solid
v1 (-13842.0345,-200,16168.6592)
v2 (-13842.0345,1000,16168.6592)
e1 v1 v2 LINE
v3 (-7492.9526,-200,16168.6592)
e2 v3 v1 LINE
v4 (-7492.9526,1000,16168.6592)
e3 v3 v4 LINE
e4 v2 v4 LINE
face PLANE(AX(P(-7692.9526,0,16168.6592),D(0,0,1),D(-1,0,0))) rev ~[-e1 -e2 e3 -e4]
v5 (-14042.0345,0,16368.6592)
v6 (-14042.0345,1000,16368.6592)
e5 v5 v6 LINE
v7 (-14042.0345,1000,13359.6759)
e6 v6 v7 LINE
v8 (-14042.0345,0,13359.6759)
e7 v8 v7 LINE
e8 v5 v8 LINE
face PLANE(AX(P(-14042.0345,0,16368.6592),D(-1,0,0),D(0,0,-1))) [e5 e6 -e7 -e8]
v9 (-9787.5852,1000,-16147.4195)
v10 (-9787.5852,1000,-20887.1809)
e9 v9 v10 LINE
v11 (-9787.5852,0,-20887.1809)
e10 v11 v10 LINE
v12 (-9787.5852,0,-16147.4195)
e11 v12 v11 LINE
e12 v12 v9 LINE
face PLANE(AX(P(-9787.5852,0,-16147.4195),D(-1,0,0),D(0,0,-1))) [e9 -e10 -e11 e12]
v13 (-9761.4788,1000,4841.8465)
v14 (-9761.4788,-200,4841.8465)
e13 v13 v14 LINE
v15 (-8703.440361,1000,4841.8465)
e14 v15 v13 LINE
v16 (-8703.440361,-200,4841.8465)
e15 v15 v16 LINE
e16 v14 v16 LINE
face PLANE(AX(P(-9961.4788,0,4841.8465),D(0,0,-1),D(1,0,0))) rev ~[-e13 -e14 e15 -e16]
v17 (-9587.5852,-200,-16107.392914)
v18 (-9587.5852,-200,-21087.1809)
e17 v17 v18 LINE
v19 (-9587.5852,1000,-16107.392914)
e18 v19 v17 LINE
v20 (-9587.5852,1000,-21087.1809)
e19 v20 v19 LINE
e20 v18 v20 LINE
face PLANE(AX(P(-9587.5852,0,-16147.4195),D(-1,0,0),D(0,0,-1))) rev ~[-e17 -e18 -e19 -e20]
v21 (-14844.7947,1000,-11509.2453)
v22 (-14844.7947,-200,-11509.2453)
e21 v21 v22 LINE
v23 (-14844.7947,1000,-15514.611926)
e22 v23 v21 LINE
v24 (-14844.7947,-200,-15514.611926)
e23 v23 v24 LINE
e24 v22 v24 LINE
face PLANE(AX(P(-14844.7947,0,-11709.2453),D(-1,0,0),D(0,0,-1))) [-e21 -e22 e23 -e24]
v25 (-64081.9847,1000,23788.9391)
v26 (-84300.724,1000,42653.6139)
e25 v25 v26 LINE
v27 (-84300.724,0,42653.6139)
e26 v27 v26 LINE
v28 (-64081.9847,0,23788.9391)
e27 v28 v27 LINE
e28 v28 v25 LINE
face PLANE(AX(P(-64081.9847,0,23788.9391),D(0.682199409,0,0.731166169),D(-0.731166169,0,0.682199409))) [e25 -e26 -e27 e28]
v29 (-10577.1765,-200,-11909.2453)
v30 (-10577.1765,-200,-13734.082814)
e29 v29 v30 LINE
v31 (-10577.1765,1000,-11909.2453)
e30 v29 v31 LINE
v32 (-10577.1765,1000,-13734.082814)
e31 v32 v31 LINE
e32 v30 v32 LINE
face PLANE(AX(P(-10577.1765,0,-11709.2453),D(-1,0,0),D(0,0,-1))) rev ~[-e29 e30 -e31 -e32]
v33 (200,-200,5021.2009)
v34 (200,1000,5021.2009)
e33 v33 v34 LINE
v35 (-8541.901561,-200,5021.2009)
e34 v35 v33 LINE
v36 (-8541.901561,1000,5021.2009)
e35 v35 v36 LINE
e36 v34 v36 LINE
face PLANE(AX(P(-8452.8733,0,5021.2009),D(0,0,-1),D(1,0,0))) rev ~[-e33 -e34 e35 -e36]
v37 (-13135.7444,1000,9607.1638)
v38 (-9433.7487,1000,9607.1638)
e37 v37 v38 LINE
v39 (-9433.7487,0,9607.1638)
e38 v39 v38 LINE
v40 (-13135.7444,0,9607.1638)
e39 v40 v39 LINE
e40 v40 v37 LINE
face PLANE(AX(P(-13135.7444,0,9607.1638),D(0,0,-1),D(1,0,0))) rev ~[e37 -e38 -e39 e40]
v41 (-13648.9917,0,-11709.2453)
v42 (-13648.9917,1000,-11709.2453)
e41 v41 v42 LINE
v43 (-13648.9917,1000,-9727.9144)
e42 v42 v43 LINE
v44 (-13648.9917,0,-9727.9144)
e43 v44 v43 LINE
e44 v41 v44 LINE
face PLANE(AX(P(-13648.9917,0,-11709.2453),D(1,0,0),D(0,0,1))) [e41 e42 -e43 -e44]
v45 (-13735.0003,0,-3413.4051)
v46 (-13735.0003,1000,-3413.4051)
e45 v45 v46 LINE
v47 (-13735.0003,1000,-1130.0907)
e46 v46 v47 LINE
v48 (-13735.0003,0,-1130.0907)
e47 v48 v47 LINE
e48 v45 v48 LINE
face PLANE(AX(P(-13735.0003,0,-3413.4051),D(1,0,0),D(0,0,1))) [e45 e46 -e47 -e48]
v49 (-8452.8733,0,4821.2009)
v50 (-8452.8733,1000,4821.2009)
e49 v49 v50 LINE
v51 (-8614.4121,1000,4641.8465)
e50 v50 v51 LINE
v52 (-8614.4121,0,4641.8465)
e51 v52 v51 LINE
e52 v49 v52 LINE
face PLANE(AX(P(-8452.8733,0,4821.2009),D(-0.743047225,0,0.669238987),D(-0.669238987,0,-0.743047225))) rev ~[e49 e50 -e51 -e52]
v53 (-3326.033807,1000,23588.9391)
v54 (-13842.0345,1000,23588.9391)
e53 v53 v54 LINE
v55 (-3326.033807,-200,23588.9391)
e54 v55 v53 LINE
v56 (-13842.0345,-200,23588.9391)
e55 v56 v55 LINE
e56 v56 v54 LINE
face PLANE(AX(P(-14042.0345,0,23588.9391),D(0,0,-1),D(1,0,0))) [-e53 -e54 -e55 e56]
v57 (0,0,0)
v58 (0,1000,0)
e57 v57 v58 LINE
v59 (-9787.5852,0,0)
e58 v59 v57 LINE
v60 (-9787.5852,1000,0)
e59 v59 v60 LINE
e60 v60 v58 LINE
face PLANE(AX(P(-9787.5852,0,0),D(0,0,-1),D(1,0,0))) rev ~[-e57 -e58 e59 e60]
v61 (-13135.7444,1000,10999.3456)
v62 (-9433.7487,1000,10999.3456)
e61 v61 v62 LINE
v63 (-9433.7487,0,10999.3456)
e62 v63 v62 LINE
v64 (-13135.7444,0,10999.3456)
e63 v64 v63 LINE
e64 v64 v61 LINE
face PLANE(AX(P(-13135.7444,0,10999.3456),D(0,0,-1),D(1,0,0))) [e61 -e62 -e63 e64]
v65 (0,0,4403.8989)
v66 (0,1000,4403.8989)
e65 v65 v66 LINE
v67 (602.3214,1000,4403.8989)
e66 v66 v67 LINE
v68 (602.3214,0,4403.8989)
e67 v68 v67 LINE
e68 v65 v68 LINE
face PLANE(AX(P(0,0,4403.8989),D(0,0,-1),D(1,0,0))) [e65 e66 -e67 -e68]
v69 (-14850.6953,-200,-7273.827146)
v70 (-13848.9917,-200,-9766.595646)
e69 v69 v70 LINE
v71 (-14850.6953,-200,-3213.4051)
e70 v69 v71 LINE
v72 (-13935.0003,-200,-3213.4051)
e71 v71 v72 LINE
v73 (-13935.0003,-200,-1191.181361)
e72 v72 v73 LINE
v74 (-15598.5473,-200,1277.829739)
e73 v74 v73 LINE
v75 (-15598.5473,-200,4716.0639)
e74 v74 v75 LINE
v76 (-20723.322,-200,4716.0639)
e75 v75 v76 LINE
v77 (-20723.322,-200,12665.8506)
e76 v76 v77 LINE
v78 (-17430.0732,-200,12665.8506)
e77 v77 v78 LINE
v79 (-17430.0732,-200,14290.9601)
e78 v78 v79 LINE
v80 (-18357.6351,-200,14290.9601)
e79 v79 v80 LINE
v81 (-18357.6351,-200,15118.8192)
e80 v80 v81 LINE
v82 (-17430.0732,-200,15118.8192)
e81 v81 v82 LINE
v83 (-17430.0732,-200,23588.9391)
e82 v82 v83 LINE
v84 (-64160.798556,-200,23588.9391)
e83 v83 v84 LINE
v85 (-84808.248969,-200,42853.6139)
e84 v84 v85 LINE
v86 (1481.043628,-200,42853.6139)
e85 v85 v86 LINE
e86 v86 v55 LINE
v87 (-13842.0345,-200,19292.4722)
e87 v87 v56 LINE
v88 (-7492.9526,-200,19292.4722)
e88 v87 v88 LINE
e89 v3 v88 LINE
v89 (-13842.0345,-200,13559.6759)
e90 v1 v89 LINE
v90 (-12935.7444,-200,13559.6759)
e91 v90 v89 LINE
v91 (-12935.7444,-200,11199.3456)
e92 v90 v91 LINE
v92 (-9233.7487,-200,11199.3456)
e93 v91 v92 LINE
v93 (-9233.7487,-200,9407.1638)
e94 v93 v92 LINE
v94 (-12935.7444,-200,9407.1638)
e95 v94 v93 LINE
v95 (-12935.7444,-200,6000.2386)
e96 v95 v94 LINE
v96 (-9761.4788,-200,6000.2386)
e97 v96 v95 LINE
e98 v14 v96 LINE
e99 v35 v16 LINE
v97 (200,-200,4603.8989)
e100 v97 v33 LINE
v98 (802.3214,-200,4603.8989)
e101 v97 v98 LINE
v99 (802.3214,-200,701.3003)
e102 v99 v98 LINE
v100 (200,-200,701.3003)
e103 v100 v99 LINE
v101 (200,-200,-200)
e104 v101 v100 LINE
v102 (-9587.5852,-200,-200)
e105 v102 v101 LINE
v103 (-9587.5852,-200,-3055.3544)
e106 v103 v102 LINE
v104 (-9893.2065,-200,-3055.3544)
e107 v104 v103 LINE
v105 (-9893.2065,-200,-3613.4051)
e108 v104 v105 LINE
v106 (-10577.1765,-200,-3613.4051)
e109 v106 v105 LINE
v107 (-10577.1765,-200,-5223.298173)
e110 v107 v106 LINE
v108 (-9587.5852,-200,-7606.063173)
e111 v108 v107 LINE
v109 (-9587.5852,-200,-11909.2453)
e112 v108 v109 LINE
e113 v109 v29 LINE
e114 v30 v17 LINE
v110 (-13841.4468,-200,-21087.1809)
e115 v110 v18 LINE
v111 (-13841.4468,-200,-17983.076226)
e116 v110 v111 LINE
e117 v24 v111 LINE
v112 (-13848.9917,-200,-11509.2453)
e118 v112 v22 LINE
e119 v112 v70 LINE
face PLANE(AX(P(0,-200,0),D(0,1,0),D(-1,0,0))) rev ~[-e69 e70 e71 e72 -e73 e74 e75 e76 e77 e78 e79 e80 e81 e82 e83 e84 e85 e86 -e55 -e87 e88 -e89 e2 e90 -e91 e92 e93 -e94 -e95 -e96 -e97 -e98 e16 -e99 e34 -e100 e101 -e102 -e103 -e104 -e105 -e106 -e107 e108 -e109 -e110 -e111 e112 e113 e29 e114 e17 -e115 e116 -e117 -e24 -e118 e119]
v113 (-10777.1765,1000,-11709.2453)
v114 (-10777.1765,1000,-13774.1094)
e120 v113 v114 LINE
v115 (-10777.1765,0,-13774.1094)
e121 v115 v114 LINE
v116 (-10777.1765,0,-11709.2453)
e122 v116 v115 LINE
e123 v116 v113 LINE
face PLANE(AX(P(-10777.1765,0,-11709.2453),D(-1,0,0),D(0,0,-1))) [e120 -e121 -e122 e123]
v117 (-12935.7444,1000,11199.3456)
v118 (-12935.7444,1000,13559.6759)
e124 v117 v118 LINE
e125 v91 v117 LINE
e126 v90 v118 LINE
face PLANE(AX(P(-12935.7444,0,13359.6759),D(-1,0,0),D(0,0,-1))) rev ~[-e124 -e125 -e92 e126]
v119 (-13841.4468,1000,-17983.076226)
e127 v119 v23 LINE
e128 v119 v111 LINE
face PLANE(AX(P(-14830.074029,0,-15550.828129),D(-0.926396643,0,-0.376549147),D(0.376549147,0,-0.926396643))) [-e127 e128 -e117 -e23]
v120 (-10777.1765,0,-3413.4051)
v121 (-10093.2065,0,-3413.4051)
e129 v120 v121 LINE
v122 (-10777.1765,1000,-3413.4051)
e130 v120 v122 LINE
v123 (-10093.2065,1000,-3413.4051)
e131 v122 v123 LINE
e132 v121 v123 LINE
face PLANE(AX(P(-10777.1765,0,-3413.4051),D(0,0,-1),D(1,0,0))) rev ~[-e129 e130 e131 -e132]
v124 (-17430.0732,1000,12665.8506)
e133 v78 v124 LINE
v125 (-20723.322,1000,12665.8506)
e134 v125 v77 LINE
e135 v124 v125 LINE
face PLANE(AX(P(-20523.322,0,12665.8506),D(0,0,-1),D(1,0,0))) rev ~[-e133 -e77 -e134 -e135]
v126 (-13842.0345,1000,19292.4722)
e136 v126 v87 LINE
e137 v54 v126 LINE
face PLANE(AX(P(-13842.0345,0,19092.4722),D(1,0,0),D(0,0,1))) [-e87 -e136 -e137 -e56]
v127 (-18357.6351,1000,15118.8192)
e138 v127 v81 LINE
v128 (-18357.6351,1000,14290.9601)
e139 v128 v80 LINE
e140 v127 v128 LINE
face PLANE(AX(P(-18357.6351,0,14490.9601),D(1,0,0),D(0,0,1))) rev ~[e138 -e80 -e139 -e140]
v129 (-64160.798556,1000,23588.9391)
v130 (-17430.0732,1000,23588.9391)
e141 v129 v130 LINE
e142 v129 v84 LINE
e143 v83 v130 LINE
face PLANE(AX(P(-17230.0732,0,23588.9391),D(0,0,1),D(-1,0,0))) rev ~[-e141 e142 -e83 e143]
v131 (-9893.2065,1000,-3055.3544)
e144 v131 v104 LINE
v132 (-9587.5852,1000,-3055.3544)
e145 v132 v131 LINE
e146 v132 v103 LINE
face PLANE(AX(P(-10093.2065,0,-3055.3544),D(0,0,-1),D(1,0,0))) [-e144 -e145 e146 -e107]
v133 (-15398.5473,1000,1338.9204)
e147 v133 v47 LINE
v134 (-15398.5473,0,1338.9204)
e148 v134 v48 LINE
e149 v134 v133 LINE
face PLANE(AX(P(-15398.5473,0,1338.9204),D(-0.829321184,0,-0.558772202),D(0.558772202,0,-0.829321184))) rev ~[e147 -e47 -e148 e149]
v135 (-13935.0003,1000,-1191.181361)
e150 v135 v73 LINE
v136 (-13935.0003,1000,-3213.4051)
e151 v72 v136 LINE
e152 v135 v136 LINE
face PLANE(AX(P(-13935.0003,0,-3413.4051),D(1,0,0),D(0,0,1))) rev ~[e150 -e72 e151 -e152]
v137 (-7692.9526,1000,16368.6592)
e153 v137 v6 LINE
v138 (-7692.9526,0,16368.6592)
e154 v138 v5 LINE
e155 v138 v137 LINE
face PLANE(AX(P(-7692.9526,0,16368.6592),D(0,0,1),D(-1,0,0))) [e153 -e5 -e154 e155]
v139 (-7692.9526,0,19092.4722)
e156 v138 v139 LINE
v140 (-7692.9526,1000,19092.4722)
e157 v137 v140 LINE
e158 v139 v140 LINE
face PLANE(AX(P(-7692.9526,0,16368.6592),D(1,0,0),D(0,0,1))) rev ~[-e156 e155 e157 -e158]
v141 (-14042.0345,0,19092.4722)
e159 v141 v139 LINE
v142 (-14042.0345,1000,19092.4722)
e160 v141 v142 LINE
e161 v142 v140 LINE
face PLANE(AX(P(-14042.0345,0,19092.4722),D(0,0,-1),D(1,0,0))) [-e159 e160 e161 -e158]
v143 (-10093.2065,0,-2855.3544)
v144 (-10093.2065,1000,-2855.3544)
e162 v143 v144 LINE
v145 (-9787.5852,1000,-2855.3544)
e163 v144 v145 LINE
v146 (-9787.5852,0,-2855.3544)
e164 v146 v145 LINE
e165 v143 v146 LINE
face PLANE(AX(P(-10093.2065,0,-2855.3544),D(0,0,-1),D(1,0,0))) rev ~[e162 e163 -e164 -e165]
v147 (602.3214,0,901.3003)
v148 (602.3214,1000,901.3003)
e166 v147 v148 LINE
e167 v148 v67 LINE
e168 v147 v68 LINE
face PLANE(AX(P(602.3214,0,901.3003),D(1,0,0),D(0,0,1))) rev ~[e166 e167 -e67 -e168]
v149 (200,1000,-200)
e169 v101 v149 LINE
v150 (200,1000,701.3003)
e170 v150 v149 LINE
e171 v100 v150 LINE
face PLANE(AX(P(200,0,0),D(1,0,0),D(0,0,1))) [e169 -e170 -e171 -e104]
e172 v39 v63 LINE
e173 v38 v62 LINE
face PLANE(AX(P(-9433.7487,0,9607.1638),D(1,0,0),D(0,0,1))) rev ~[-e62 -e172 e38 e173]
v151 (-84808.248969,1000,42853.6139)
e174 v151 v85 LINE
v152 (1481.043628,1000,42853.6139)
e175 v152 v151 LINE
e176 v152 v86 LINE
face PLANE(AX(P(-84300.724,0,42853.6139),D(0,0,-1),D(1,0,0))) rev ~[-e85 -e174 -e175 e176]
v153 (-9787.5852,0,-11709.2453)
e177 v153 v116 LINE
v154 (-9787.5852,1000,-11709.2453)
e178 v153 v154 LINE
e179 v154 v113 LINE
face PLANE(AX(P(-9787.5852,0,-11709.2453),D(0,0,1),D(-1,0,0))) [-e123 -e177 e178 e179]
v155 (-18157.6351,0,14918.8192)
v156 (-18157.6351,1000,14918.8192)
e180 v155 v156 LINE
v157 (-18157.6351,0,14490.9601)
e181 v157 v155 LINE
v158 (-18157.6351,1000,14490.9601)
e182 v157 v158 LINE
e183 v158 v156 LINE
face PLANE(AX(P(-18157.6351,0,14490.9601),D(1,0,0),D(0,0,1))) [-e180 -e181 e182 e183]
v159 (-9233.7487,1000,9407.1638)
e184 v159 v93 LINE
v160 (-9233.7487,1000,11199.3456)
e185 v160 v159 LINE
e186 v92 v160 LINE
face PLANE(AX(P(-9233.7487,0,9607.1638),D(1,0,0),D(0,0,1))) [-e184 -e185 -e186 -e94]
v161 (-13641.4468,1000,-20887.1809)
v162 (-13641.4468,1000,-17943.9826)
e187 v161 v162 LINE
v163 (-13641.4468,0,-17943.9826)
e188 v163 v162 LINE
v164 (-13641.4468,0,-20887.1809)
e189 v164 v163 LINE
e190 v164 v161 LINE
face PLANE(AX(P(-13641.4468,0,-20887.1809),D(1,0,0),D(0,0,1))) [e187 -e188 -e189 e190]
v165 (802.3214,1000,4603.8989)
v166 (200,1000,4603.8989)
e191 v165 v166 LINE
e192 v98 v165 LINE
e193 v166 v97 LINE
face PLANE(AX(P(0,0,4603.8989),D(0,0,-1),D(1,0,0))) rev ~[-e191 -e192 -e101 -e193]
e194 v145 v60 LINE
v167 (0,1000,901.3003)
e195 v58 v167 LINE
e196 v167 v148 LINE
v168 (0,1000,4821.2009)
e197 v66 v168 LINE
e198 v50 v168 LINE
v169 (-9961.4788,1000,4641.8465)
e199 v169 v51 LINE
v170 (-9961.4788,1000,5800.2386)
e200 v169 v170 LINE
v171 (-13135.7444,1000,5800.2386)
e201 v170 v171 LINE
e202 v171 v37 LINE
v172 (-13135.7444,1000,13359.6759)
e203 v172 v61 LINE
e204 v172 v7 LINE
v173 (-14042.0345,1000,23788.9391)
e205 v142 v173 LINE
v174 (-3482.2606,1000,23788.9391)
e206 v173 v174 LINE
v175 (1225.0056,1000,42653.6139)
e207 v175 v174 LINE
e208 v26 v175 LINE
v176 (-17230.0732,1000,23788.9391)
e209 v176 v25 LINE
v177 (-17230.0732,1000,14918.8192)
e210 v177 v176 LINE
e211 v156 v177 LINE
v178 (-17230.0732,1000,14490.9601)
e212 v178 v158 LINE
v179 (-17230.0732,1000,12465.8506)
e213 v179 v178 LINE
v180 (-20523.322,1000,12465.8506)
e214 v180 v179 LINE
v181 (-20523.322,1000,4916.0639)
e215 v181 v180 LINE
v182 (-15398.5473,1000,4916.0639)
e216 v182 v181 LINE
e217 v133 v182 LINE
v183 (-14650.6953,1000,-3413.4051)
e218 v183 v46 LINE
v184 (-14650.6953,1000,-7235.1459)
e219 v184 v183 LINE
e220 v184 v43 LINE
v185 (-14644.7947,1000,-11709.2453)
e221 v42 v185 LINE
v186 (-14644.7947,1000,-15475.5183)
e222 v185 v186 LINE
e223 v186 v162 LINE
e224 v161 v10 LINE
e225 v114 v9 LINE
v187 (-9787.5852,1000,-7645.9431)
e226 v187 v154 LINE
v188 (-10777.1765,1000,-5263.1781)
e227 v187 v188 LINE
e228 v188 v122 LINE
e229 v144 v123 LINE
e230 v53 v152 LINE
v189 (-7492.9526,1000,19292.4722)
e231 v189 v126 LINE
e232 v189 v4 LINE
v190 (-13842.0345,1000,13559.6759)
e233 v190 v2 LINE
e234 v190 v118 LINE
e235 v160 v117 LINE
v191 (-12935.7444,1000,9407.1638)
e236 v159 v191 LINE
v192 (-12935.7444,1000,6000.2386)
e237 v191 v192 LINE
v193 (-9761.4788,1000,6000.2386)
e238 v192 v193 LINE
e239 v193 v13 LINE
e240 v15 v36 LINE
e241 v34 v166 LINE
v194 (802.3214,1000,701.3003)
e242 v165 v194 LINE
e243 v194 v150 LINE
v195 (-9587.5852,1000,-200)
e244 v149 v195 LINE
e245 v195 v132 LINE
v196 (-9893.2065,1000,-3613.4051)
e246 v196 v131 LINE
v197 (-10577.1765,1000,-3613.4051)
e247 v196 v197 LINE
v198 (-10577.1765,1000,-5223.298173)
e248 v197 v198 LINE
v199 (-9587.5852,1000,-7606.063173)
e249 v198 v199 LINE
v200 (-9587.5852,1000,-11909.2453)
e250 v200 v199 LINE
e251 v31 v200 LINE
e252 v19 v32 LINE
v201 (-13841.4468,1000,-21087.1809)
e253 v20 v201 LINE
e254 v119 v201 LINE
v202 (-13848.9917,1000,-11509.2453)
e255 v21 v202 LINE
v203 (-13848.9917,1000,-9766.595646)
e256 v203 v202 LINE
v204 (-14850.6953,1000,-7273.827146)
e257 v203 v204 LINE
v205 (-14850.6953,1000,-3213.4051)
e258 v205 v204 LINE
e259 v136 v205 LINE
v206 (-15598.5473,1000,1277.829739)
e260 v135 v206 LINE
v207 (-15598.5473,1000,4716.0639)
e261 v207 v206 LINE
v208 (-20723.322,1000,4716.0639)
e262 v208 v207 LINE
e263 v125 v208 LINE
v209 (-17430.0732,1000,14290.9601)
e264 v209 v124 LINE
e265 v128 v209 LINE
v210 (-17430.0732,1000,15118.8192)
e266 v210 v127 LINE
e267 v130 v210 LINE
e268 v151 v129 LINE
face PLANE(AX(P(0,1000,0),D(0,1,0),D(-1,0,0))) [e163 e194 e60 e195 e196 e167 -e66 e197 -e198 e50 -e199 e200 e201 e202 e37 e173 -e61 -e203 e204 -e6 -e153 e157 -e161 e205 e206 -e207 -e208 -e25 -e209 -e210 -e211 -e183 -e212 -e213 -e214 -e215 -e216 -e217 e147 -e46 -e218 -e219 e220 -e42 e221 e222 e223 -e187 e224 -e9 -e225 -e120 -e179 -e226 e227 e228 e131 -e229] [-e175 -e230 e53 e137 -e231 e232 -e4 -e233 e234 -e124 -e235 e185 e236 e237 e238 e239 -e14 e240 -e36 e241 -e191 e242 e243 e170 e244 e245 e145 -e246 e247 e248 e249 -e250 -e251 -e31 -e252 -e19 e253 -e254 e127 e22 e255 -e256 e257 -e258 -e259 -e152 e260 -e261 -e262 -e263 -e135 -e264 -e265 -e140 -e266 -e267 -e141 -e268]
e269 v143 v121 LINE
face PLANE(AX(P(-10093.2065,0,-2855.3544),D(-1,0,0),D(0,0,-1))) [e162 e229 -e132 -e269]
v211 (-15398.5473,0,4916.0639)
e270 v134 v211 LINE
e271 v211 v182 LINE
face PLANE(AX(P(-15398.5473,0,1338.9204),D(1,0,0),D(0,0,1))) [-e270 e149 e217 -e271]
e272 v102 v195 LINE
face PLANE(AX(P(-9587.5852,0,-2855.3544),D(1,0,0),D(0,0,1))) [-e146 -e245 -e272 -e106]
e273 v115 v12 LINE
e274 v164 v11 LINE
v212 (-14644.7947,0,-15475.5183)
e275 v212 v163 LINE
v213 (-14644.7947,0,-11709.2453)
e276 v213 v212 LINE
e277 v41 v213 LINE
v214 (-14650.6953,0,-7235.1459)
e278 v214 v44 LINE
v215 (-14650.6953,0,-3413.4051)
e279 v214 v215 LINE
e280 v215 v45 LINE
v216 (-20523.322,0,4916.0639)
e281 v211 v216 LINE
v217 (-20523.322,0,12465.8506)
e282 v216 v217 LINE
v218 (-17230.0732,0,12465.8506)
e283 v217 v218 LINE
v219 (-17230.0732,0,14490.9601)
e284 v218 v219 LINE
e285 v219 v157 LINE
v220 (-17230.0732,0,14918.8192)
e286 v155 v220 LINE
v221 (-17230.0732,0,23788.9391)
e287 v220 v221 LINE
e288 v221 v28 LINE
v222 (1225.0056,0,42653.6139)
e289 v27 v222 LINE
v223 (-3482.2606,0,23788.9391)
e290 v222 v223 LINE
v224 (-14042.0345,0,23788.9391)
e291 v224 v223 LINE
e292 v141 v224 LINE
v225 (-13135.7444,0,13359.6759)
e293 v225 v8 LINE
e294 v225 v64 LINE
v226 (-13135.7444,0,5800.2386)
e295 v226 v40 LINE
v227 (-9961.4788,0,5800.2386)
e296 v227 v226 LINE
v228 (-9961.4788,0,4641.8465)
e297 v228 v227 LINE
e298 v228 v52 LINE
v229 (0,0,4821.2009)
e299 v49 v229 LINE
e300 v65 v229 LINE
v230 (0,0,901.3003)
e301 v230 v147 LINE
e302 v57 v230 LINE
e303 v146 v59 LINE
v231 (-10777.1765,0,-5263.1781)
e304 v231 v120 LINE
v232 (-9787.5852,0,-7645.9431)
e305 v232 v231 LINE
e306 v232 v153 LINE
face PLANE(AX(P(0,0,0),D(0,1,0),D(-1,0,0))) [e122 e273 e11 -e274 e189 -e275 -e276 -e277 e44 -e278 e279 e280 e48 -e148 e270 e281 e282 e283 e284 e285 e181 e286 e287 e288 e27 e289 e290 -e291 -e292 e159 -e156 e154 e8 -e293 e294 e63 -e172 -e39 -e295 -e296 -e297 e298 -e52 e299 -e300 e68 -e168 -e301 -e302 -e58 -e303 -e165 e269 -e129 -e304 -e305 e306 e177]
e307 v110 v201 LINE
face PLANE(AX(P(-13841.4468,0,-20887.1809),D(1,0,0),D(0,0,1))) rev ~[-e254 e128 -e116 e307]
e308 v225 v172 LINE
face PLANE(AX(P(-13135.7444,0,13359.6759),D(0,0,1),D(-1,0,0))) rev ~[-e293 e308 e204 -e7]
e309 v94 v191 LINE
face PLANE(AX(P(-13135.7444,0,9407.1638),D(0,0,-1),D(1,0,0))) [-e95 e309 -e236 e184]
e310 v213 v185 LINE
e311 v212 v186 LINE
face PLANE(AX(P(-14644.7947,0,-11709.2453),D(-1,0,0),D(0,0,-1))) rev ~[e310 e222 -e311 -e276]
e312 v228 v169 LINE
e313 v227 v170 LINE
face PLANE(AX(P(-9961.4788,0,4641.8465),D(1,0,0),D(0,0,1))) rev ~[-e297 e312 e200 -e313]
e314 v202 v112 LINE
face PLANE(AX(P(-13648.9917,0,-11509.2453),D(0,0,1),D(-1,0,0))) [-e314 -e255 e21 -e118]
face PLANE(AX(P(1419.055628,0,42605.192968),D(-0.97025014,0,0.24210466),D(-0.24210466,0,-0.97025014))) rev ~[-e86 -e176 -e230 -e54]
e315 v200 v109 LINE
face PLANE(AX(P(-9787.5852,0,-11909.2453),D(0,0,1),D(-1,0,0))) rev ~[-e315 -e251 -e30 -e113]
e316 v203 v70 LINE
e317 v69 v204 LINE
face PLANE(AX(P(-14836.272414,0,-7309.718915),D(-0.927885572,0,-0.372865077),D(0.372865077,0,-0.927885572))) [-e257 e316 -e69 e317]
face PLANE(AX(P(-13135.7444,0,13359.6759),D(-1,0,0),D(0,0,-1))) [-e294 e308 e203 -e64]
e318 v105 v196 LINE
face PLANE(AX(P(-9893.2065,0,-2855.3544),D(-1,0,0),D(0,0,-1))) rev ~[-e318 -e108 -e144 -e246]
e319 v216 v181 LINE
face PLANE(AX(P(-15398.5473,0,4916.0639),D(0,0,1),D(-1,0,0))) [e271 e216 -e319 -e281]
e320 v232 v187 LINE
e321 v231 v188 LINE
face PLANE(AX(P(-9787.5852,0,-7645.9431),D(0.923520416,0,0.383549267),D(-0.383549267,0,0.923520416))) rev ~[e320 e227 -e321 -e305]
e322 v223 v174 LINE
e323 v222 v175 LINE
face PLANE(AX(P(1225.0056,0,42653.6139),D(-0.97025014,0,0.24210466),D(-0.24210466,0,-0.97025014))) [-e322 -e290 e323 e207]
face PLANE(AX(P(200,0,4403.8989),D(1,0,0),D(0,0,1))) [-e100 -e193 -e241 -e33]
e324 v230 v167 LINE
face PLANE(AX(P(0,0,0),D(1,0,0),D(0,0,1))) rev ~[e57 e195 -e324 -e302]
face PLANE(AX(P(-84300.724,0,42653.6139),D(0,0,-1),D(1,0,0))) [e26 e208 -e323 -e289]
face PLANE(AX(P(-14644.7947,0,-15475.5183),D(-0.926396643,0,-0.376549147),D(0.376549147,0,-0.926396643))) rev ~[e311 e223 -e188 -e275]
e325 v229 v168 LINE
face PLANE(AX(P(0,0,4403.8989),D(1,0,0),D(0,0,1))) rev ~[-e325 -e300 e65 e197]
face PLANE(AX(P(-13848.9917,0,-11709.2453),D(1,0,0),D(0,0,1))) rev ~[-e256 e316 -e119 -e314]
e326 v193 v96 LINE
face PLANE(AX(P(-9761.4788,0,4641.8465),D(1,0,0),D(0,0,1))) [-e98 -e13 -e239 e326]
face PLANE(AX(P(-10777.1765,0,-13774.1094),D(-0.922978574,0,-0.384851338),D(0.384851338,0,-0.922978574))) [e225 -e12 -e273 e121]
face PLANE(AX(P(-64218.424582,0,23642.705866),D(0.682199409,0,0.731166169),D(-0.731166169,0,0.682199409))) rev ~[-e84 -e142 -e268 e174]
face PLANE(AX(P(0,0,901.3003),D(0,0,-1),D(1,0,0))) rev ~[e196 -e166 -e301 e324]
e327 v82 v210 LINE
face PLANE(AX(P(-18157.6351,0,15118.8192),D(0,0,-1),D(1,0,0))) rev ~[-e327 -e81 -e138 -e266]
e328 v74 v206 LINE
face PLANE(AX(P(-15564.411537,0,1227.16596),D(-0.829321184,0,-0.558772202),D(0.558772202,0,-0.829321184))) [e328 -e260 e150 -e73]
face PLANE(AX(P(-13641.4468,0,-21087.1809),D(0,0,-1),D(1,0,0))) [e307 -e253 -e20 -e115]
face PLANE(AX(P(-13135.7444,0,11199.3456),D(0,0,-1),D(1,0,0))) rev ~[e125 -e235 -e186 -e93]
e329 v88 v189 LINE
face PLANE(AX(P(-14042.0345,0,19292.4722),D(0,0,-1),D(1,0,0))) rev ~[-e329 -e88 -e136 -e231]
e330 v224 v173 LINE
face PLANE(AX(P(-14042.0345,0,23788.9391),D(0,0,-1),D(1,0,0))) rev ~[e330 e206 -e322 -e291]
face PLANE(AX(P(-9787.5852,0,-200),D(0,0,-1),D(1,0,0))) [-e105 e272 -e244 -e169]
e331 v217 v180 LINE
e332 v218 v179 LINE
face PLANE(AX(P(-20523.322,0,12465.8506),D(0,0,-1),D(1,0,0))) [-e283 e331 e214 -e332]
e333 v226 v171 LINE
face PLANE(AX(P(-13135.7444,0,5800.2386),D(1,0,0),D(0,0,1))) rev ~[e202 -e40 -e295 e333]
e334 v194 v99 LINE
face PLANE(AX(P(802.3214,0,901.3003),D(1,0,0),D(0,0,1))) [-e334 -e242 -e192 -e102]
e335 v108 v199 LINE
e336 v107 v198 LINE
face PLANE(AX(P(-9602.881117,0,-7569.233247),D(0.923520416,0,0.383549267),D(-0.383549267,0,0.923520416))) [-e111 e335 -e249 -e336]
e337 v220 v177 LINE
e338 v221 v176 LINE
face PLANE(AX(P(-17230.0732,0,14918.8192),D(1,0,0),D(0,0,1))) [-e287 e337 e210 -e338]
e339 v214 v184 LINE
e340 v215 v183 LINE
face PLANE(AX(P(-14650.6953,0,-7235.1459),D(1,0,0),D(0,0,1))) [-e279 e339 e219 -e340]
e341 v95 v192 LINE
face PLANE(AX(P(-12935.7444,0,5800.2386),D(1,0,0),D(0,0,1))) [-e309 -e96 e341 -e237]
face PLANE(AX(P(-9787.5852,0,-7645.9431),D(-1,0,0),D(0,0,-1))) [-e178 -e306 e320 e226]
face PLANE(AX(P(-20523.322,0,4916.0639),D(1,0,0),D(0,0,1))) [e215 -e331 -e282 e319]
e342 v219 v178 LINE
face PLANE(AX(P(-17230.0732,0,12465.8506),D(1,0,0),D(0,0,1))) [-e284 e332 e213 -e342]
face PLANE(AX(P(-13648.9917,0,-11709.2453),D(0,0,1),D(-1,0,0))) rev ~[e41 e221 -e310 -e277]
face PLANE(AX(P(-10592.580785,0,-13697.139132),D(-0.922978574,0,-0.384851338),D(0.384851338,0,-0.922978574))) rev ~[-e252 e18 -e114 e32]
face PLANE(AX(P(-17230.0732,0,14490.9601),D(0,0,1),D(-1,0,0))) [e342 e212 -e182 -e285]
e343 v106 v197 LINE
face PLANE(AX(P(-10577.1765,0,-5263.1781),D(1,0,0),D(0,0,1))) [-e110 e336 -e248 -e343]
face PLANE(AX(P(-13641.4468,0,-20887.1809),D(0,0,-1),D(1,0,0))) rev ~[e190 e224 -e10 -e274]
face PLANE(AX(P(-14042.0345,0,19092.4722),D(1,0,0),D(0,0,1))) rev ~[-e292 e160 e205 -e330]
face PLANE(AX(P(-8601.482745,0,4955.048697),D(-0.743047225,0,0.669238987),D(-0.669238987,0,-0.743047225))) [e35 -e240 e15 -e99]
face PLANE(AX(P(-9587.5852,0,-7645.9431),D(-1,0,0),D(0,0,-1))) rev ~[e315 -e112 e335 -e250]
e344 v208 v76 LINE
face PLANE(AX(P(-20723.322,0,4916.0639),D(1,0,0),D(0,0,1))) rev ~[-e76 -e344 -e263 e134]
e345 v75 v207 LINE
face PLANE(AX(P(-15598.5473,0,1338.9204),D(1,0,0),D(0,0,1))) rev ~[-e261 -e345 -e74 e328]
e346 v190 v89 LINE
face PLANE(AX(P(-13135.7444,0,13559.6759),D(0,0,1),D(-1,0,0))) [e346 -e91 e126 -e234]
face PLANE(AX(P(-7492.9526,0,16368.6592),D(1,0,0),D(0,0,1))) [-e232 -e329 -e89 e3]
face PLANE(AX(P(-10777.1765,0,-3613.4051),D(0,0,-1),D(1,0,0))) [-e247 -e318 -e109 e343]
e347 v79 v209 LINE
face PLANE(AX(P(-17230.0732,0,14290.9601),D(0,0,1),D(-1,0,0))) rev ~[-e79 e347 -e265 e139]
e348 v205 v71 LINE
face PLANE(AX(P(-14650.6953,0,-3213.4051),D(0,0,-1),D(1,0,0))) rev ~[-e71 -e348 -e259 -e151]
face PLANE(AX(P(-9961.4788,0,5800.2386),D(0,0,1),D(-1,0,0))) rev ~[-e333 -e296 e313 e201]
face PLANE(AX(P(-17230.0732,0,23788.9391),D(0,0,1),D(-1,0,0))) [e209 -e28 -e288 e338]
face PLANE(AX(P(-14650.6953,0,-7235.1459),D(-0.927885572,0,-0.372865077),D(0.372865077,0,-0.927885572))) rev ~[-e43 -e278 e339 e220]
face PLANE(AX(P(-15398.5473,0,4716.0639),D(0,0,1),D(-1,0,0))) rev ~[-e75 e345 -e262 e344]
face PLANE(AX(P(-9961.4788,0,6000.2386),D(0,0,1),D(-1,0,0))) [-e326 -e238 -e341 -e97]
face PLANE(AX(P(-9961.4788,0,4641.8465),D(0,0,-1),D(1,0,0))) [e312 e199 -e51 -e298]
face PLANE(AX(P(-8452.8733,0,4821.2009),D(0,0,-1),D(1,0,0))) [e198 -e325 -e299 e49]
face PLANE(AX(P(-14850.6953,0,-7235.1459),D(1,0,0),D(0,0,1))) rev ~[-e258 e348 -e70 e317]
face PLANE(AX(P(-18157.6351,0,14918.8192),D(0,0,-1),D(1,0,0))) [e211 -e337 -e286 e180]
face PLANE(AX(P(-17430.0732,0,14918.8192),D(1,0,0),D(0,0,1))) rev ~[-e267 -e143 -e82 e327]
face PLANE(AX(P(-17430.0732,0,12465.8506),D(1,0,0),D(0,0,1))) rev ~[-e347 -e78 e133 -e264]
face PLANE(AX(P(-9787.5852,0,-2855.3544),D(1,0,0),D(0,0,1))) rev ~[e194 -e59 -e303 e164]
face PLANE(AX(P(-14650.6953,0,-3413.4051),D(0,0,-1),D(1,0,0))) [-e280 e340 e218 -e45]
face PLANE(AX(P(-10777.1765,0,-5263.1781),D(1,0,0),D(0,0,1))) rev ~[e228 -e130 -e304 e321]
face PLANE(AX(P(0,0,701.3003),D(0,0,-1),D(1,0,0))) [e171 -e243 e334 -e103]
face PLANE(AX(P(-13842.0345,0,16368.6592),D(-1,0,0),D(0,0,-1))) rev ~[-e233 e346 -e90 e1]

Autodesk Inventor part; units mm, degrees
ref_plane "YZ Plane" through (0, 0, 0) normal (1, 0, 0) x (0, 1, 0)
ref_plane "XZ Plane" through (0, 0, 0) normal (0, 1, 0) x (-1, 0, 0)
ref_plane "XY Plane" through (0, 0, 0) normal (0, 0, 1) x (1, 0, 0)
sketch "Sketch1" plane through (0, 0, 0) normal (0, 1, 0) x (-1, 0, 0)
  line L0 (0, 0) -> (0, 901.3003)
  line L1 (9787.5852, 0) -> (0, 0)
  line L2 (0, 901.3003) -> (-602.3214, 901.3003)
  line L3 (-602.3214, 901.3003) -> (-602.3214, 4403.8989)
  line L4 (0, 4403.8989) -> (-602.3214, 4403.8989)
  line L5 (0, 4403.8989) -> (0, 4821.2009)
  line L6 (8452.8733, 4821.2009) -> (0, 4821.2009)
  line L7 (8452.8733, 4821.2009) -> (8614.4121, 4641.8465)
  line L8 (9961.4788, 4641.8465) -> (8614.4121, 4641.8465)
  line L9 (9961.4788, 4641.8465) -> (9961.4788, 5800.2386)
  line L10 (9961.4788, 5800.2386) -> (13135.7444, 5800.2386)
  line L11 (13135.7444, 5800.2386) -> (13135.7444, 9607.1638)
  line L12 (13135.7444, 5800.2386) -> (9961.4788, 5800.2386)
  line L13 (13135.7444, 9607.1638) -> (13135.7444, 5800.2386)
  line L14 (13135.7444, 9607.1638) -> (9433.7487, 9607.1638)
  line L15 (9433.7487, 9607.1638) -> (9433.7487, 10999.3456)
  line L16 (13135.7444, 10999.3456) -> (9433.7487, 10999.3456)
  line L17 (13135.7444, 13359.6759) -> (13135.7444, 10999.3456)
  line L18 (13135.7444, 13359.6759) -> (14042.0345, 13359.6759)
  line L19 (14042.0345, 16368.6592) -> (14042.0345, 13359.6759)
  line L20 (7692.9526, 16368.6592) -> (14042.0345, 16368.6592)
  line L21 (7692.9526, 16368.6592) -> (7692.9526, 19092.4722)
  line L22 (14042.0345, 19092.4722) -> (7692.9526, 19092.4722)
  line L23 (14042.0345, 19092.4722) -> (14042.0345, 23788.9391)
  line L24 (14042.0345, 23788.9391) -> (3482.2606, 23788.9391)
  line L25 (-1225.0056, 42653.6139) -> (3482.2606, 23788.9391)
  line L26 (84300.724, 42653.6139) -> (-1225.0056, 42653.6139)
  line L27 (64081.9847, 23788.9391) -> (84300.724, 42653.6139)
  line L28 (17230.0732, 23788.9391) -> (64081.9847, 23788.9391)
  line L29 (17230.0732, 14918.8192) -> (17230.0732, 23788.9391)
  line L30 (18157.6351, 14918.8192) -> (17230.0732, 14918.8192)
  line L31 (18157.6351, 14490.9601) -> (18157.6351, 14918.8192)
  line L32 (17230.0732, 14490.9601) -> (18157.6351, 14490.9601)
  line L33 (17230.0732, 12465.8506) -> (17230.0732, 14490.9601)
  line L34 (20523.322, 12465.8506) -> (17230.0732, 12465.8506)
  line L35 (20523.322, 4916.0639) -> (20523.322, 12465.8506)
  line L36 (15398.5473, 4916.0639) -> (20523.322, 4916.0639)
  line L37 (15398.5473, 1338.9204) -> (15398.5473, 4916.0639)
  line L38 (15398.5473, 1338.9204) -> (13735.0003, -1130.0907)
  line L39 (13735.0003, -3413.4051) -> (13735.0003, -1130.0907)
  line L40 (14650.6953, -3413.4051) -> (13735.0003, -3413.4051)
  line L41 (14650.6953, -7235.1459) -> (14650.6953, -3413.4051)
  line L42 (14650.6953, -7235.1459) -> (13648.9917, -9727.9144)
  line L43 (13648.9917, -11709.2453) -> (13648.9917, -9727.9144)
  line L44 (13648.9917, -11709.2453) -> (14644.7947, -11709.2453)
  line L45 (14644.7947, -11709.2453) -> (14644.7947, -15475.5183)
  line L46 (14644.7947, -15475.5183) -> (13641.4468, -17943.9826)
  line L47 (13641.4468, -20887.1809) -> (13641.4468, -17943.9826)
  line L48 (13641.4468, -20887.1809) -> (9787.5852, -20887.1809)
  line L49 (9787.5852, -16147.4195) -> (9787.5852, -20887.1809)
  line L50 (10777.1765, -13774.1094) -> (9787.5852, -16147.4195)
  line L51 (10777.1765, -11709.2453) -> (10777.1765, -13774.1094)
  line L52 (9787.5852, -11709.2453) -> (10777.1765, -11709.2453)
  line L53 (9787.5852, -7645.9431) -> (9787.5852, -11709.2453)
  line L54 (9787.5852, -7645.9431) -> (10777.1765, -5263.1781)
  line L55 (10777.1765, -5263.1781) -> (10777.1765, -3413.4051)
  line L56 (10777.1765, -3413.4051) -> (10093.2065, -3413.4051)
  line L57 (10093.2065, -2855.3544) -> (10093.2065, -3413.4051)
  line L58 (10093.2065, -2855.3544) -> (9787.5852, -2855.3544)
  line L59 (9787.5852, -2855.3544) -> (9787.5852, 0)
extrude "Extrusion1" add sketch "Sketch1" along normal blind 1000
shell "Shell1" thickness 200 outward yes removed faces 1 at (-49052.5677, 1000, 36365.389)
properties part number "piso7"
